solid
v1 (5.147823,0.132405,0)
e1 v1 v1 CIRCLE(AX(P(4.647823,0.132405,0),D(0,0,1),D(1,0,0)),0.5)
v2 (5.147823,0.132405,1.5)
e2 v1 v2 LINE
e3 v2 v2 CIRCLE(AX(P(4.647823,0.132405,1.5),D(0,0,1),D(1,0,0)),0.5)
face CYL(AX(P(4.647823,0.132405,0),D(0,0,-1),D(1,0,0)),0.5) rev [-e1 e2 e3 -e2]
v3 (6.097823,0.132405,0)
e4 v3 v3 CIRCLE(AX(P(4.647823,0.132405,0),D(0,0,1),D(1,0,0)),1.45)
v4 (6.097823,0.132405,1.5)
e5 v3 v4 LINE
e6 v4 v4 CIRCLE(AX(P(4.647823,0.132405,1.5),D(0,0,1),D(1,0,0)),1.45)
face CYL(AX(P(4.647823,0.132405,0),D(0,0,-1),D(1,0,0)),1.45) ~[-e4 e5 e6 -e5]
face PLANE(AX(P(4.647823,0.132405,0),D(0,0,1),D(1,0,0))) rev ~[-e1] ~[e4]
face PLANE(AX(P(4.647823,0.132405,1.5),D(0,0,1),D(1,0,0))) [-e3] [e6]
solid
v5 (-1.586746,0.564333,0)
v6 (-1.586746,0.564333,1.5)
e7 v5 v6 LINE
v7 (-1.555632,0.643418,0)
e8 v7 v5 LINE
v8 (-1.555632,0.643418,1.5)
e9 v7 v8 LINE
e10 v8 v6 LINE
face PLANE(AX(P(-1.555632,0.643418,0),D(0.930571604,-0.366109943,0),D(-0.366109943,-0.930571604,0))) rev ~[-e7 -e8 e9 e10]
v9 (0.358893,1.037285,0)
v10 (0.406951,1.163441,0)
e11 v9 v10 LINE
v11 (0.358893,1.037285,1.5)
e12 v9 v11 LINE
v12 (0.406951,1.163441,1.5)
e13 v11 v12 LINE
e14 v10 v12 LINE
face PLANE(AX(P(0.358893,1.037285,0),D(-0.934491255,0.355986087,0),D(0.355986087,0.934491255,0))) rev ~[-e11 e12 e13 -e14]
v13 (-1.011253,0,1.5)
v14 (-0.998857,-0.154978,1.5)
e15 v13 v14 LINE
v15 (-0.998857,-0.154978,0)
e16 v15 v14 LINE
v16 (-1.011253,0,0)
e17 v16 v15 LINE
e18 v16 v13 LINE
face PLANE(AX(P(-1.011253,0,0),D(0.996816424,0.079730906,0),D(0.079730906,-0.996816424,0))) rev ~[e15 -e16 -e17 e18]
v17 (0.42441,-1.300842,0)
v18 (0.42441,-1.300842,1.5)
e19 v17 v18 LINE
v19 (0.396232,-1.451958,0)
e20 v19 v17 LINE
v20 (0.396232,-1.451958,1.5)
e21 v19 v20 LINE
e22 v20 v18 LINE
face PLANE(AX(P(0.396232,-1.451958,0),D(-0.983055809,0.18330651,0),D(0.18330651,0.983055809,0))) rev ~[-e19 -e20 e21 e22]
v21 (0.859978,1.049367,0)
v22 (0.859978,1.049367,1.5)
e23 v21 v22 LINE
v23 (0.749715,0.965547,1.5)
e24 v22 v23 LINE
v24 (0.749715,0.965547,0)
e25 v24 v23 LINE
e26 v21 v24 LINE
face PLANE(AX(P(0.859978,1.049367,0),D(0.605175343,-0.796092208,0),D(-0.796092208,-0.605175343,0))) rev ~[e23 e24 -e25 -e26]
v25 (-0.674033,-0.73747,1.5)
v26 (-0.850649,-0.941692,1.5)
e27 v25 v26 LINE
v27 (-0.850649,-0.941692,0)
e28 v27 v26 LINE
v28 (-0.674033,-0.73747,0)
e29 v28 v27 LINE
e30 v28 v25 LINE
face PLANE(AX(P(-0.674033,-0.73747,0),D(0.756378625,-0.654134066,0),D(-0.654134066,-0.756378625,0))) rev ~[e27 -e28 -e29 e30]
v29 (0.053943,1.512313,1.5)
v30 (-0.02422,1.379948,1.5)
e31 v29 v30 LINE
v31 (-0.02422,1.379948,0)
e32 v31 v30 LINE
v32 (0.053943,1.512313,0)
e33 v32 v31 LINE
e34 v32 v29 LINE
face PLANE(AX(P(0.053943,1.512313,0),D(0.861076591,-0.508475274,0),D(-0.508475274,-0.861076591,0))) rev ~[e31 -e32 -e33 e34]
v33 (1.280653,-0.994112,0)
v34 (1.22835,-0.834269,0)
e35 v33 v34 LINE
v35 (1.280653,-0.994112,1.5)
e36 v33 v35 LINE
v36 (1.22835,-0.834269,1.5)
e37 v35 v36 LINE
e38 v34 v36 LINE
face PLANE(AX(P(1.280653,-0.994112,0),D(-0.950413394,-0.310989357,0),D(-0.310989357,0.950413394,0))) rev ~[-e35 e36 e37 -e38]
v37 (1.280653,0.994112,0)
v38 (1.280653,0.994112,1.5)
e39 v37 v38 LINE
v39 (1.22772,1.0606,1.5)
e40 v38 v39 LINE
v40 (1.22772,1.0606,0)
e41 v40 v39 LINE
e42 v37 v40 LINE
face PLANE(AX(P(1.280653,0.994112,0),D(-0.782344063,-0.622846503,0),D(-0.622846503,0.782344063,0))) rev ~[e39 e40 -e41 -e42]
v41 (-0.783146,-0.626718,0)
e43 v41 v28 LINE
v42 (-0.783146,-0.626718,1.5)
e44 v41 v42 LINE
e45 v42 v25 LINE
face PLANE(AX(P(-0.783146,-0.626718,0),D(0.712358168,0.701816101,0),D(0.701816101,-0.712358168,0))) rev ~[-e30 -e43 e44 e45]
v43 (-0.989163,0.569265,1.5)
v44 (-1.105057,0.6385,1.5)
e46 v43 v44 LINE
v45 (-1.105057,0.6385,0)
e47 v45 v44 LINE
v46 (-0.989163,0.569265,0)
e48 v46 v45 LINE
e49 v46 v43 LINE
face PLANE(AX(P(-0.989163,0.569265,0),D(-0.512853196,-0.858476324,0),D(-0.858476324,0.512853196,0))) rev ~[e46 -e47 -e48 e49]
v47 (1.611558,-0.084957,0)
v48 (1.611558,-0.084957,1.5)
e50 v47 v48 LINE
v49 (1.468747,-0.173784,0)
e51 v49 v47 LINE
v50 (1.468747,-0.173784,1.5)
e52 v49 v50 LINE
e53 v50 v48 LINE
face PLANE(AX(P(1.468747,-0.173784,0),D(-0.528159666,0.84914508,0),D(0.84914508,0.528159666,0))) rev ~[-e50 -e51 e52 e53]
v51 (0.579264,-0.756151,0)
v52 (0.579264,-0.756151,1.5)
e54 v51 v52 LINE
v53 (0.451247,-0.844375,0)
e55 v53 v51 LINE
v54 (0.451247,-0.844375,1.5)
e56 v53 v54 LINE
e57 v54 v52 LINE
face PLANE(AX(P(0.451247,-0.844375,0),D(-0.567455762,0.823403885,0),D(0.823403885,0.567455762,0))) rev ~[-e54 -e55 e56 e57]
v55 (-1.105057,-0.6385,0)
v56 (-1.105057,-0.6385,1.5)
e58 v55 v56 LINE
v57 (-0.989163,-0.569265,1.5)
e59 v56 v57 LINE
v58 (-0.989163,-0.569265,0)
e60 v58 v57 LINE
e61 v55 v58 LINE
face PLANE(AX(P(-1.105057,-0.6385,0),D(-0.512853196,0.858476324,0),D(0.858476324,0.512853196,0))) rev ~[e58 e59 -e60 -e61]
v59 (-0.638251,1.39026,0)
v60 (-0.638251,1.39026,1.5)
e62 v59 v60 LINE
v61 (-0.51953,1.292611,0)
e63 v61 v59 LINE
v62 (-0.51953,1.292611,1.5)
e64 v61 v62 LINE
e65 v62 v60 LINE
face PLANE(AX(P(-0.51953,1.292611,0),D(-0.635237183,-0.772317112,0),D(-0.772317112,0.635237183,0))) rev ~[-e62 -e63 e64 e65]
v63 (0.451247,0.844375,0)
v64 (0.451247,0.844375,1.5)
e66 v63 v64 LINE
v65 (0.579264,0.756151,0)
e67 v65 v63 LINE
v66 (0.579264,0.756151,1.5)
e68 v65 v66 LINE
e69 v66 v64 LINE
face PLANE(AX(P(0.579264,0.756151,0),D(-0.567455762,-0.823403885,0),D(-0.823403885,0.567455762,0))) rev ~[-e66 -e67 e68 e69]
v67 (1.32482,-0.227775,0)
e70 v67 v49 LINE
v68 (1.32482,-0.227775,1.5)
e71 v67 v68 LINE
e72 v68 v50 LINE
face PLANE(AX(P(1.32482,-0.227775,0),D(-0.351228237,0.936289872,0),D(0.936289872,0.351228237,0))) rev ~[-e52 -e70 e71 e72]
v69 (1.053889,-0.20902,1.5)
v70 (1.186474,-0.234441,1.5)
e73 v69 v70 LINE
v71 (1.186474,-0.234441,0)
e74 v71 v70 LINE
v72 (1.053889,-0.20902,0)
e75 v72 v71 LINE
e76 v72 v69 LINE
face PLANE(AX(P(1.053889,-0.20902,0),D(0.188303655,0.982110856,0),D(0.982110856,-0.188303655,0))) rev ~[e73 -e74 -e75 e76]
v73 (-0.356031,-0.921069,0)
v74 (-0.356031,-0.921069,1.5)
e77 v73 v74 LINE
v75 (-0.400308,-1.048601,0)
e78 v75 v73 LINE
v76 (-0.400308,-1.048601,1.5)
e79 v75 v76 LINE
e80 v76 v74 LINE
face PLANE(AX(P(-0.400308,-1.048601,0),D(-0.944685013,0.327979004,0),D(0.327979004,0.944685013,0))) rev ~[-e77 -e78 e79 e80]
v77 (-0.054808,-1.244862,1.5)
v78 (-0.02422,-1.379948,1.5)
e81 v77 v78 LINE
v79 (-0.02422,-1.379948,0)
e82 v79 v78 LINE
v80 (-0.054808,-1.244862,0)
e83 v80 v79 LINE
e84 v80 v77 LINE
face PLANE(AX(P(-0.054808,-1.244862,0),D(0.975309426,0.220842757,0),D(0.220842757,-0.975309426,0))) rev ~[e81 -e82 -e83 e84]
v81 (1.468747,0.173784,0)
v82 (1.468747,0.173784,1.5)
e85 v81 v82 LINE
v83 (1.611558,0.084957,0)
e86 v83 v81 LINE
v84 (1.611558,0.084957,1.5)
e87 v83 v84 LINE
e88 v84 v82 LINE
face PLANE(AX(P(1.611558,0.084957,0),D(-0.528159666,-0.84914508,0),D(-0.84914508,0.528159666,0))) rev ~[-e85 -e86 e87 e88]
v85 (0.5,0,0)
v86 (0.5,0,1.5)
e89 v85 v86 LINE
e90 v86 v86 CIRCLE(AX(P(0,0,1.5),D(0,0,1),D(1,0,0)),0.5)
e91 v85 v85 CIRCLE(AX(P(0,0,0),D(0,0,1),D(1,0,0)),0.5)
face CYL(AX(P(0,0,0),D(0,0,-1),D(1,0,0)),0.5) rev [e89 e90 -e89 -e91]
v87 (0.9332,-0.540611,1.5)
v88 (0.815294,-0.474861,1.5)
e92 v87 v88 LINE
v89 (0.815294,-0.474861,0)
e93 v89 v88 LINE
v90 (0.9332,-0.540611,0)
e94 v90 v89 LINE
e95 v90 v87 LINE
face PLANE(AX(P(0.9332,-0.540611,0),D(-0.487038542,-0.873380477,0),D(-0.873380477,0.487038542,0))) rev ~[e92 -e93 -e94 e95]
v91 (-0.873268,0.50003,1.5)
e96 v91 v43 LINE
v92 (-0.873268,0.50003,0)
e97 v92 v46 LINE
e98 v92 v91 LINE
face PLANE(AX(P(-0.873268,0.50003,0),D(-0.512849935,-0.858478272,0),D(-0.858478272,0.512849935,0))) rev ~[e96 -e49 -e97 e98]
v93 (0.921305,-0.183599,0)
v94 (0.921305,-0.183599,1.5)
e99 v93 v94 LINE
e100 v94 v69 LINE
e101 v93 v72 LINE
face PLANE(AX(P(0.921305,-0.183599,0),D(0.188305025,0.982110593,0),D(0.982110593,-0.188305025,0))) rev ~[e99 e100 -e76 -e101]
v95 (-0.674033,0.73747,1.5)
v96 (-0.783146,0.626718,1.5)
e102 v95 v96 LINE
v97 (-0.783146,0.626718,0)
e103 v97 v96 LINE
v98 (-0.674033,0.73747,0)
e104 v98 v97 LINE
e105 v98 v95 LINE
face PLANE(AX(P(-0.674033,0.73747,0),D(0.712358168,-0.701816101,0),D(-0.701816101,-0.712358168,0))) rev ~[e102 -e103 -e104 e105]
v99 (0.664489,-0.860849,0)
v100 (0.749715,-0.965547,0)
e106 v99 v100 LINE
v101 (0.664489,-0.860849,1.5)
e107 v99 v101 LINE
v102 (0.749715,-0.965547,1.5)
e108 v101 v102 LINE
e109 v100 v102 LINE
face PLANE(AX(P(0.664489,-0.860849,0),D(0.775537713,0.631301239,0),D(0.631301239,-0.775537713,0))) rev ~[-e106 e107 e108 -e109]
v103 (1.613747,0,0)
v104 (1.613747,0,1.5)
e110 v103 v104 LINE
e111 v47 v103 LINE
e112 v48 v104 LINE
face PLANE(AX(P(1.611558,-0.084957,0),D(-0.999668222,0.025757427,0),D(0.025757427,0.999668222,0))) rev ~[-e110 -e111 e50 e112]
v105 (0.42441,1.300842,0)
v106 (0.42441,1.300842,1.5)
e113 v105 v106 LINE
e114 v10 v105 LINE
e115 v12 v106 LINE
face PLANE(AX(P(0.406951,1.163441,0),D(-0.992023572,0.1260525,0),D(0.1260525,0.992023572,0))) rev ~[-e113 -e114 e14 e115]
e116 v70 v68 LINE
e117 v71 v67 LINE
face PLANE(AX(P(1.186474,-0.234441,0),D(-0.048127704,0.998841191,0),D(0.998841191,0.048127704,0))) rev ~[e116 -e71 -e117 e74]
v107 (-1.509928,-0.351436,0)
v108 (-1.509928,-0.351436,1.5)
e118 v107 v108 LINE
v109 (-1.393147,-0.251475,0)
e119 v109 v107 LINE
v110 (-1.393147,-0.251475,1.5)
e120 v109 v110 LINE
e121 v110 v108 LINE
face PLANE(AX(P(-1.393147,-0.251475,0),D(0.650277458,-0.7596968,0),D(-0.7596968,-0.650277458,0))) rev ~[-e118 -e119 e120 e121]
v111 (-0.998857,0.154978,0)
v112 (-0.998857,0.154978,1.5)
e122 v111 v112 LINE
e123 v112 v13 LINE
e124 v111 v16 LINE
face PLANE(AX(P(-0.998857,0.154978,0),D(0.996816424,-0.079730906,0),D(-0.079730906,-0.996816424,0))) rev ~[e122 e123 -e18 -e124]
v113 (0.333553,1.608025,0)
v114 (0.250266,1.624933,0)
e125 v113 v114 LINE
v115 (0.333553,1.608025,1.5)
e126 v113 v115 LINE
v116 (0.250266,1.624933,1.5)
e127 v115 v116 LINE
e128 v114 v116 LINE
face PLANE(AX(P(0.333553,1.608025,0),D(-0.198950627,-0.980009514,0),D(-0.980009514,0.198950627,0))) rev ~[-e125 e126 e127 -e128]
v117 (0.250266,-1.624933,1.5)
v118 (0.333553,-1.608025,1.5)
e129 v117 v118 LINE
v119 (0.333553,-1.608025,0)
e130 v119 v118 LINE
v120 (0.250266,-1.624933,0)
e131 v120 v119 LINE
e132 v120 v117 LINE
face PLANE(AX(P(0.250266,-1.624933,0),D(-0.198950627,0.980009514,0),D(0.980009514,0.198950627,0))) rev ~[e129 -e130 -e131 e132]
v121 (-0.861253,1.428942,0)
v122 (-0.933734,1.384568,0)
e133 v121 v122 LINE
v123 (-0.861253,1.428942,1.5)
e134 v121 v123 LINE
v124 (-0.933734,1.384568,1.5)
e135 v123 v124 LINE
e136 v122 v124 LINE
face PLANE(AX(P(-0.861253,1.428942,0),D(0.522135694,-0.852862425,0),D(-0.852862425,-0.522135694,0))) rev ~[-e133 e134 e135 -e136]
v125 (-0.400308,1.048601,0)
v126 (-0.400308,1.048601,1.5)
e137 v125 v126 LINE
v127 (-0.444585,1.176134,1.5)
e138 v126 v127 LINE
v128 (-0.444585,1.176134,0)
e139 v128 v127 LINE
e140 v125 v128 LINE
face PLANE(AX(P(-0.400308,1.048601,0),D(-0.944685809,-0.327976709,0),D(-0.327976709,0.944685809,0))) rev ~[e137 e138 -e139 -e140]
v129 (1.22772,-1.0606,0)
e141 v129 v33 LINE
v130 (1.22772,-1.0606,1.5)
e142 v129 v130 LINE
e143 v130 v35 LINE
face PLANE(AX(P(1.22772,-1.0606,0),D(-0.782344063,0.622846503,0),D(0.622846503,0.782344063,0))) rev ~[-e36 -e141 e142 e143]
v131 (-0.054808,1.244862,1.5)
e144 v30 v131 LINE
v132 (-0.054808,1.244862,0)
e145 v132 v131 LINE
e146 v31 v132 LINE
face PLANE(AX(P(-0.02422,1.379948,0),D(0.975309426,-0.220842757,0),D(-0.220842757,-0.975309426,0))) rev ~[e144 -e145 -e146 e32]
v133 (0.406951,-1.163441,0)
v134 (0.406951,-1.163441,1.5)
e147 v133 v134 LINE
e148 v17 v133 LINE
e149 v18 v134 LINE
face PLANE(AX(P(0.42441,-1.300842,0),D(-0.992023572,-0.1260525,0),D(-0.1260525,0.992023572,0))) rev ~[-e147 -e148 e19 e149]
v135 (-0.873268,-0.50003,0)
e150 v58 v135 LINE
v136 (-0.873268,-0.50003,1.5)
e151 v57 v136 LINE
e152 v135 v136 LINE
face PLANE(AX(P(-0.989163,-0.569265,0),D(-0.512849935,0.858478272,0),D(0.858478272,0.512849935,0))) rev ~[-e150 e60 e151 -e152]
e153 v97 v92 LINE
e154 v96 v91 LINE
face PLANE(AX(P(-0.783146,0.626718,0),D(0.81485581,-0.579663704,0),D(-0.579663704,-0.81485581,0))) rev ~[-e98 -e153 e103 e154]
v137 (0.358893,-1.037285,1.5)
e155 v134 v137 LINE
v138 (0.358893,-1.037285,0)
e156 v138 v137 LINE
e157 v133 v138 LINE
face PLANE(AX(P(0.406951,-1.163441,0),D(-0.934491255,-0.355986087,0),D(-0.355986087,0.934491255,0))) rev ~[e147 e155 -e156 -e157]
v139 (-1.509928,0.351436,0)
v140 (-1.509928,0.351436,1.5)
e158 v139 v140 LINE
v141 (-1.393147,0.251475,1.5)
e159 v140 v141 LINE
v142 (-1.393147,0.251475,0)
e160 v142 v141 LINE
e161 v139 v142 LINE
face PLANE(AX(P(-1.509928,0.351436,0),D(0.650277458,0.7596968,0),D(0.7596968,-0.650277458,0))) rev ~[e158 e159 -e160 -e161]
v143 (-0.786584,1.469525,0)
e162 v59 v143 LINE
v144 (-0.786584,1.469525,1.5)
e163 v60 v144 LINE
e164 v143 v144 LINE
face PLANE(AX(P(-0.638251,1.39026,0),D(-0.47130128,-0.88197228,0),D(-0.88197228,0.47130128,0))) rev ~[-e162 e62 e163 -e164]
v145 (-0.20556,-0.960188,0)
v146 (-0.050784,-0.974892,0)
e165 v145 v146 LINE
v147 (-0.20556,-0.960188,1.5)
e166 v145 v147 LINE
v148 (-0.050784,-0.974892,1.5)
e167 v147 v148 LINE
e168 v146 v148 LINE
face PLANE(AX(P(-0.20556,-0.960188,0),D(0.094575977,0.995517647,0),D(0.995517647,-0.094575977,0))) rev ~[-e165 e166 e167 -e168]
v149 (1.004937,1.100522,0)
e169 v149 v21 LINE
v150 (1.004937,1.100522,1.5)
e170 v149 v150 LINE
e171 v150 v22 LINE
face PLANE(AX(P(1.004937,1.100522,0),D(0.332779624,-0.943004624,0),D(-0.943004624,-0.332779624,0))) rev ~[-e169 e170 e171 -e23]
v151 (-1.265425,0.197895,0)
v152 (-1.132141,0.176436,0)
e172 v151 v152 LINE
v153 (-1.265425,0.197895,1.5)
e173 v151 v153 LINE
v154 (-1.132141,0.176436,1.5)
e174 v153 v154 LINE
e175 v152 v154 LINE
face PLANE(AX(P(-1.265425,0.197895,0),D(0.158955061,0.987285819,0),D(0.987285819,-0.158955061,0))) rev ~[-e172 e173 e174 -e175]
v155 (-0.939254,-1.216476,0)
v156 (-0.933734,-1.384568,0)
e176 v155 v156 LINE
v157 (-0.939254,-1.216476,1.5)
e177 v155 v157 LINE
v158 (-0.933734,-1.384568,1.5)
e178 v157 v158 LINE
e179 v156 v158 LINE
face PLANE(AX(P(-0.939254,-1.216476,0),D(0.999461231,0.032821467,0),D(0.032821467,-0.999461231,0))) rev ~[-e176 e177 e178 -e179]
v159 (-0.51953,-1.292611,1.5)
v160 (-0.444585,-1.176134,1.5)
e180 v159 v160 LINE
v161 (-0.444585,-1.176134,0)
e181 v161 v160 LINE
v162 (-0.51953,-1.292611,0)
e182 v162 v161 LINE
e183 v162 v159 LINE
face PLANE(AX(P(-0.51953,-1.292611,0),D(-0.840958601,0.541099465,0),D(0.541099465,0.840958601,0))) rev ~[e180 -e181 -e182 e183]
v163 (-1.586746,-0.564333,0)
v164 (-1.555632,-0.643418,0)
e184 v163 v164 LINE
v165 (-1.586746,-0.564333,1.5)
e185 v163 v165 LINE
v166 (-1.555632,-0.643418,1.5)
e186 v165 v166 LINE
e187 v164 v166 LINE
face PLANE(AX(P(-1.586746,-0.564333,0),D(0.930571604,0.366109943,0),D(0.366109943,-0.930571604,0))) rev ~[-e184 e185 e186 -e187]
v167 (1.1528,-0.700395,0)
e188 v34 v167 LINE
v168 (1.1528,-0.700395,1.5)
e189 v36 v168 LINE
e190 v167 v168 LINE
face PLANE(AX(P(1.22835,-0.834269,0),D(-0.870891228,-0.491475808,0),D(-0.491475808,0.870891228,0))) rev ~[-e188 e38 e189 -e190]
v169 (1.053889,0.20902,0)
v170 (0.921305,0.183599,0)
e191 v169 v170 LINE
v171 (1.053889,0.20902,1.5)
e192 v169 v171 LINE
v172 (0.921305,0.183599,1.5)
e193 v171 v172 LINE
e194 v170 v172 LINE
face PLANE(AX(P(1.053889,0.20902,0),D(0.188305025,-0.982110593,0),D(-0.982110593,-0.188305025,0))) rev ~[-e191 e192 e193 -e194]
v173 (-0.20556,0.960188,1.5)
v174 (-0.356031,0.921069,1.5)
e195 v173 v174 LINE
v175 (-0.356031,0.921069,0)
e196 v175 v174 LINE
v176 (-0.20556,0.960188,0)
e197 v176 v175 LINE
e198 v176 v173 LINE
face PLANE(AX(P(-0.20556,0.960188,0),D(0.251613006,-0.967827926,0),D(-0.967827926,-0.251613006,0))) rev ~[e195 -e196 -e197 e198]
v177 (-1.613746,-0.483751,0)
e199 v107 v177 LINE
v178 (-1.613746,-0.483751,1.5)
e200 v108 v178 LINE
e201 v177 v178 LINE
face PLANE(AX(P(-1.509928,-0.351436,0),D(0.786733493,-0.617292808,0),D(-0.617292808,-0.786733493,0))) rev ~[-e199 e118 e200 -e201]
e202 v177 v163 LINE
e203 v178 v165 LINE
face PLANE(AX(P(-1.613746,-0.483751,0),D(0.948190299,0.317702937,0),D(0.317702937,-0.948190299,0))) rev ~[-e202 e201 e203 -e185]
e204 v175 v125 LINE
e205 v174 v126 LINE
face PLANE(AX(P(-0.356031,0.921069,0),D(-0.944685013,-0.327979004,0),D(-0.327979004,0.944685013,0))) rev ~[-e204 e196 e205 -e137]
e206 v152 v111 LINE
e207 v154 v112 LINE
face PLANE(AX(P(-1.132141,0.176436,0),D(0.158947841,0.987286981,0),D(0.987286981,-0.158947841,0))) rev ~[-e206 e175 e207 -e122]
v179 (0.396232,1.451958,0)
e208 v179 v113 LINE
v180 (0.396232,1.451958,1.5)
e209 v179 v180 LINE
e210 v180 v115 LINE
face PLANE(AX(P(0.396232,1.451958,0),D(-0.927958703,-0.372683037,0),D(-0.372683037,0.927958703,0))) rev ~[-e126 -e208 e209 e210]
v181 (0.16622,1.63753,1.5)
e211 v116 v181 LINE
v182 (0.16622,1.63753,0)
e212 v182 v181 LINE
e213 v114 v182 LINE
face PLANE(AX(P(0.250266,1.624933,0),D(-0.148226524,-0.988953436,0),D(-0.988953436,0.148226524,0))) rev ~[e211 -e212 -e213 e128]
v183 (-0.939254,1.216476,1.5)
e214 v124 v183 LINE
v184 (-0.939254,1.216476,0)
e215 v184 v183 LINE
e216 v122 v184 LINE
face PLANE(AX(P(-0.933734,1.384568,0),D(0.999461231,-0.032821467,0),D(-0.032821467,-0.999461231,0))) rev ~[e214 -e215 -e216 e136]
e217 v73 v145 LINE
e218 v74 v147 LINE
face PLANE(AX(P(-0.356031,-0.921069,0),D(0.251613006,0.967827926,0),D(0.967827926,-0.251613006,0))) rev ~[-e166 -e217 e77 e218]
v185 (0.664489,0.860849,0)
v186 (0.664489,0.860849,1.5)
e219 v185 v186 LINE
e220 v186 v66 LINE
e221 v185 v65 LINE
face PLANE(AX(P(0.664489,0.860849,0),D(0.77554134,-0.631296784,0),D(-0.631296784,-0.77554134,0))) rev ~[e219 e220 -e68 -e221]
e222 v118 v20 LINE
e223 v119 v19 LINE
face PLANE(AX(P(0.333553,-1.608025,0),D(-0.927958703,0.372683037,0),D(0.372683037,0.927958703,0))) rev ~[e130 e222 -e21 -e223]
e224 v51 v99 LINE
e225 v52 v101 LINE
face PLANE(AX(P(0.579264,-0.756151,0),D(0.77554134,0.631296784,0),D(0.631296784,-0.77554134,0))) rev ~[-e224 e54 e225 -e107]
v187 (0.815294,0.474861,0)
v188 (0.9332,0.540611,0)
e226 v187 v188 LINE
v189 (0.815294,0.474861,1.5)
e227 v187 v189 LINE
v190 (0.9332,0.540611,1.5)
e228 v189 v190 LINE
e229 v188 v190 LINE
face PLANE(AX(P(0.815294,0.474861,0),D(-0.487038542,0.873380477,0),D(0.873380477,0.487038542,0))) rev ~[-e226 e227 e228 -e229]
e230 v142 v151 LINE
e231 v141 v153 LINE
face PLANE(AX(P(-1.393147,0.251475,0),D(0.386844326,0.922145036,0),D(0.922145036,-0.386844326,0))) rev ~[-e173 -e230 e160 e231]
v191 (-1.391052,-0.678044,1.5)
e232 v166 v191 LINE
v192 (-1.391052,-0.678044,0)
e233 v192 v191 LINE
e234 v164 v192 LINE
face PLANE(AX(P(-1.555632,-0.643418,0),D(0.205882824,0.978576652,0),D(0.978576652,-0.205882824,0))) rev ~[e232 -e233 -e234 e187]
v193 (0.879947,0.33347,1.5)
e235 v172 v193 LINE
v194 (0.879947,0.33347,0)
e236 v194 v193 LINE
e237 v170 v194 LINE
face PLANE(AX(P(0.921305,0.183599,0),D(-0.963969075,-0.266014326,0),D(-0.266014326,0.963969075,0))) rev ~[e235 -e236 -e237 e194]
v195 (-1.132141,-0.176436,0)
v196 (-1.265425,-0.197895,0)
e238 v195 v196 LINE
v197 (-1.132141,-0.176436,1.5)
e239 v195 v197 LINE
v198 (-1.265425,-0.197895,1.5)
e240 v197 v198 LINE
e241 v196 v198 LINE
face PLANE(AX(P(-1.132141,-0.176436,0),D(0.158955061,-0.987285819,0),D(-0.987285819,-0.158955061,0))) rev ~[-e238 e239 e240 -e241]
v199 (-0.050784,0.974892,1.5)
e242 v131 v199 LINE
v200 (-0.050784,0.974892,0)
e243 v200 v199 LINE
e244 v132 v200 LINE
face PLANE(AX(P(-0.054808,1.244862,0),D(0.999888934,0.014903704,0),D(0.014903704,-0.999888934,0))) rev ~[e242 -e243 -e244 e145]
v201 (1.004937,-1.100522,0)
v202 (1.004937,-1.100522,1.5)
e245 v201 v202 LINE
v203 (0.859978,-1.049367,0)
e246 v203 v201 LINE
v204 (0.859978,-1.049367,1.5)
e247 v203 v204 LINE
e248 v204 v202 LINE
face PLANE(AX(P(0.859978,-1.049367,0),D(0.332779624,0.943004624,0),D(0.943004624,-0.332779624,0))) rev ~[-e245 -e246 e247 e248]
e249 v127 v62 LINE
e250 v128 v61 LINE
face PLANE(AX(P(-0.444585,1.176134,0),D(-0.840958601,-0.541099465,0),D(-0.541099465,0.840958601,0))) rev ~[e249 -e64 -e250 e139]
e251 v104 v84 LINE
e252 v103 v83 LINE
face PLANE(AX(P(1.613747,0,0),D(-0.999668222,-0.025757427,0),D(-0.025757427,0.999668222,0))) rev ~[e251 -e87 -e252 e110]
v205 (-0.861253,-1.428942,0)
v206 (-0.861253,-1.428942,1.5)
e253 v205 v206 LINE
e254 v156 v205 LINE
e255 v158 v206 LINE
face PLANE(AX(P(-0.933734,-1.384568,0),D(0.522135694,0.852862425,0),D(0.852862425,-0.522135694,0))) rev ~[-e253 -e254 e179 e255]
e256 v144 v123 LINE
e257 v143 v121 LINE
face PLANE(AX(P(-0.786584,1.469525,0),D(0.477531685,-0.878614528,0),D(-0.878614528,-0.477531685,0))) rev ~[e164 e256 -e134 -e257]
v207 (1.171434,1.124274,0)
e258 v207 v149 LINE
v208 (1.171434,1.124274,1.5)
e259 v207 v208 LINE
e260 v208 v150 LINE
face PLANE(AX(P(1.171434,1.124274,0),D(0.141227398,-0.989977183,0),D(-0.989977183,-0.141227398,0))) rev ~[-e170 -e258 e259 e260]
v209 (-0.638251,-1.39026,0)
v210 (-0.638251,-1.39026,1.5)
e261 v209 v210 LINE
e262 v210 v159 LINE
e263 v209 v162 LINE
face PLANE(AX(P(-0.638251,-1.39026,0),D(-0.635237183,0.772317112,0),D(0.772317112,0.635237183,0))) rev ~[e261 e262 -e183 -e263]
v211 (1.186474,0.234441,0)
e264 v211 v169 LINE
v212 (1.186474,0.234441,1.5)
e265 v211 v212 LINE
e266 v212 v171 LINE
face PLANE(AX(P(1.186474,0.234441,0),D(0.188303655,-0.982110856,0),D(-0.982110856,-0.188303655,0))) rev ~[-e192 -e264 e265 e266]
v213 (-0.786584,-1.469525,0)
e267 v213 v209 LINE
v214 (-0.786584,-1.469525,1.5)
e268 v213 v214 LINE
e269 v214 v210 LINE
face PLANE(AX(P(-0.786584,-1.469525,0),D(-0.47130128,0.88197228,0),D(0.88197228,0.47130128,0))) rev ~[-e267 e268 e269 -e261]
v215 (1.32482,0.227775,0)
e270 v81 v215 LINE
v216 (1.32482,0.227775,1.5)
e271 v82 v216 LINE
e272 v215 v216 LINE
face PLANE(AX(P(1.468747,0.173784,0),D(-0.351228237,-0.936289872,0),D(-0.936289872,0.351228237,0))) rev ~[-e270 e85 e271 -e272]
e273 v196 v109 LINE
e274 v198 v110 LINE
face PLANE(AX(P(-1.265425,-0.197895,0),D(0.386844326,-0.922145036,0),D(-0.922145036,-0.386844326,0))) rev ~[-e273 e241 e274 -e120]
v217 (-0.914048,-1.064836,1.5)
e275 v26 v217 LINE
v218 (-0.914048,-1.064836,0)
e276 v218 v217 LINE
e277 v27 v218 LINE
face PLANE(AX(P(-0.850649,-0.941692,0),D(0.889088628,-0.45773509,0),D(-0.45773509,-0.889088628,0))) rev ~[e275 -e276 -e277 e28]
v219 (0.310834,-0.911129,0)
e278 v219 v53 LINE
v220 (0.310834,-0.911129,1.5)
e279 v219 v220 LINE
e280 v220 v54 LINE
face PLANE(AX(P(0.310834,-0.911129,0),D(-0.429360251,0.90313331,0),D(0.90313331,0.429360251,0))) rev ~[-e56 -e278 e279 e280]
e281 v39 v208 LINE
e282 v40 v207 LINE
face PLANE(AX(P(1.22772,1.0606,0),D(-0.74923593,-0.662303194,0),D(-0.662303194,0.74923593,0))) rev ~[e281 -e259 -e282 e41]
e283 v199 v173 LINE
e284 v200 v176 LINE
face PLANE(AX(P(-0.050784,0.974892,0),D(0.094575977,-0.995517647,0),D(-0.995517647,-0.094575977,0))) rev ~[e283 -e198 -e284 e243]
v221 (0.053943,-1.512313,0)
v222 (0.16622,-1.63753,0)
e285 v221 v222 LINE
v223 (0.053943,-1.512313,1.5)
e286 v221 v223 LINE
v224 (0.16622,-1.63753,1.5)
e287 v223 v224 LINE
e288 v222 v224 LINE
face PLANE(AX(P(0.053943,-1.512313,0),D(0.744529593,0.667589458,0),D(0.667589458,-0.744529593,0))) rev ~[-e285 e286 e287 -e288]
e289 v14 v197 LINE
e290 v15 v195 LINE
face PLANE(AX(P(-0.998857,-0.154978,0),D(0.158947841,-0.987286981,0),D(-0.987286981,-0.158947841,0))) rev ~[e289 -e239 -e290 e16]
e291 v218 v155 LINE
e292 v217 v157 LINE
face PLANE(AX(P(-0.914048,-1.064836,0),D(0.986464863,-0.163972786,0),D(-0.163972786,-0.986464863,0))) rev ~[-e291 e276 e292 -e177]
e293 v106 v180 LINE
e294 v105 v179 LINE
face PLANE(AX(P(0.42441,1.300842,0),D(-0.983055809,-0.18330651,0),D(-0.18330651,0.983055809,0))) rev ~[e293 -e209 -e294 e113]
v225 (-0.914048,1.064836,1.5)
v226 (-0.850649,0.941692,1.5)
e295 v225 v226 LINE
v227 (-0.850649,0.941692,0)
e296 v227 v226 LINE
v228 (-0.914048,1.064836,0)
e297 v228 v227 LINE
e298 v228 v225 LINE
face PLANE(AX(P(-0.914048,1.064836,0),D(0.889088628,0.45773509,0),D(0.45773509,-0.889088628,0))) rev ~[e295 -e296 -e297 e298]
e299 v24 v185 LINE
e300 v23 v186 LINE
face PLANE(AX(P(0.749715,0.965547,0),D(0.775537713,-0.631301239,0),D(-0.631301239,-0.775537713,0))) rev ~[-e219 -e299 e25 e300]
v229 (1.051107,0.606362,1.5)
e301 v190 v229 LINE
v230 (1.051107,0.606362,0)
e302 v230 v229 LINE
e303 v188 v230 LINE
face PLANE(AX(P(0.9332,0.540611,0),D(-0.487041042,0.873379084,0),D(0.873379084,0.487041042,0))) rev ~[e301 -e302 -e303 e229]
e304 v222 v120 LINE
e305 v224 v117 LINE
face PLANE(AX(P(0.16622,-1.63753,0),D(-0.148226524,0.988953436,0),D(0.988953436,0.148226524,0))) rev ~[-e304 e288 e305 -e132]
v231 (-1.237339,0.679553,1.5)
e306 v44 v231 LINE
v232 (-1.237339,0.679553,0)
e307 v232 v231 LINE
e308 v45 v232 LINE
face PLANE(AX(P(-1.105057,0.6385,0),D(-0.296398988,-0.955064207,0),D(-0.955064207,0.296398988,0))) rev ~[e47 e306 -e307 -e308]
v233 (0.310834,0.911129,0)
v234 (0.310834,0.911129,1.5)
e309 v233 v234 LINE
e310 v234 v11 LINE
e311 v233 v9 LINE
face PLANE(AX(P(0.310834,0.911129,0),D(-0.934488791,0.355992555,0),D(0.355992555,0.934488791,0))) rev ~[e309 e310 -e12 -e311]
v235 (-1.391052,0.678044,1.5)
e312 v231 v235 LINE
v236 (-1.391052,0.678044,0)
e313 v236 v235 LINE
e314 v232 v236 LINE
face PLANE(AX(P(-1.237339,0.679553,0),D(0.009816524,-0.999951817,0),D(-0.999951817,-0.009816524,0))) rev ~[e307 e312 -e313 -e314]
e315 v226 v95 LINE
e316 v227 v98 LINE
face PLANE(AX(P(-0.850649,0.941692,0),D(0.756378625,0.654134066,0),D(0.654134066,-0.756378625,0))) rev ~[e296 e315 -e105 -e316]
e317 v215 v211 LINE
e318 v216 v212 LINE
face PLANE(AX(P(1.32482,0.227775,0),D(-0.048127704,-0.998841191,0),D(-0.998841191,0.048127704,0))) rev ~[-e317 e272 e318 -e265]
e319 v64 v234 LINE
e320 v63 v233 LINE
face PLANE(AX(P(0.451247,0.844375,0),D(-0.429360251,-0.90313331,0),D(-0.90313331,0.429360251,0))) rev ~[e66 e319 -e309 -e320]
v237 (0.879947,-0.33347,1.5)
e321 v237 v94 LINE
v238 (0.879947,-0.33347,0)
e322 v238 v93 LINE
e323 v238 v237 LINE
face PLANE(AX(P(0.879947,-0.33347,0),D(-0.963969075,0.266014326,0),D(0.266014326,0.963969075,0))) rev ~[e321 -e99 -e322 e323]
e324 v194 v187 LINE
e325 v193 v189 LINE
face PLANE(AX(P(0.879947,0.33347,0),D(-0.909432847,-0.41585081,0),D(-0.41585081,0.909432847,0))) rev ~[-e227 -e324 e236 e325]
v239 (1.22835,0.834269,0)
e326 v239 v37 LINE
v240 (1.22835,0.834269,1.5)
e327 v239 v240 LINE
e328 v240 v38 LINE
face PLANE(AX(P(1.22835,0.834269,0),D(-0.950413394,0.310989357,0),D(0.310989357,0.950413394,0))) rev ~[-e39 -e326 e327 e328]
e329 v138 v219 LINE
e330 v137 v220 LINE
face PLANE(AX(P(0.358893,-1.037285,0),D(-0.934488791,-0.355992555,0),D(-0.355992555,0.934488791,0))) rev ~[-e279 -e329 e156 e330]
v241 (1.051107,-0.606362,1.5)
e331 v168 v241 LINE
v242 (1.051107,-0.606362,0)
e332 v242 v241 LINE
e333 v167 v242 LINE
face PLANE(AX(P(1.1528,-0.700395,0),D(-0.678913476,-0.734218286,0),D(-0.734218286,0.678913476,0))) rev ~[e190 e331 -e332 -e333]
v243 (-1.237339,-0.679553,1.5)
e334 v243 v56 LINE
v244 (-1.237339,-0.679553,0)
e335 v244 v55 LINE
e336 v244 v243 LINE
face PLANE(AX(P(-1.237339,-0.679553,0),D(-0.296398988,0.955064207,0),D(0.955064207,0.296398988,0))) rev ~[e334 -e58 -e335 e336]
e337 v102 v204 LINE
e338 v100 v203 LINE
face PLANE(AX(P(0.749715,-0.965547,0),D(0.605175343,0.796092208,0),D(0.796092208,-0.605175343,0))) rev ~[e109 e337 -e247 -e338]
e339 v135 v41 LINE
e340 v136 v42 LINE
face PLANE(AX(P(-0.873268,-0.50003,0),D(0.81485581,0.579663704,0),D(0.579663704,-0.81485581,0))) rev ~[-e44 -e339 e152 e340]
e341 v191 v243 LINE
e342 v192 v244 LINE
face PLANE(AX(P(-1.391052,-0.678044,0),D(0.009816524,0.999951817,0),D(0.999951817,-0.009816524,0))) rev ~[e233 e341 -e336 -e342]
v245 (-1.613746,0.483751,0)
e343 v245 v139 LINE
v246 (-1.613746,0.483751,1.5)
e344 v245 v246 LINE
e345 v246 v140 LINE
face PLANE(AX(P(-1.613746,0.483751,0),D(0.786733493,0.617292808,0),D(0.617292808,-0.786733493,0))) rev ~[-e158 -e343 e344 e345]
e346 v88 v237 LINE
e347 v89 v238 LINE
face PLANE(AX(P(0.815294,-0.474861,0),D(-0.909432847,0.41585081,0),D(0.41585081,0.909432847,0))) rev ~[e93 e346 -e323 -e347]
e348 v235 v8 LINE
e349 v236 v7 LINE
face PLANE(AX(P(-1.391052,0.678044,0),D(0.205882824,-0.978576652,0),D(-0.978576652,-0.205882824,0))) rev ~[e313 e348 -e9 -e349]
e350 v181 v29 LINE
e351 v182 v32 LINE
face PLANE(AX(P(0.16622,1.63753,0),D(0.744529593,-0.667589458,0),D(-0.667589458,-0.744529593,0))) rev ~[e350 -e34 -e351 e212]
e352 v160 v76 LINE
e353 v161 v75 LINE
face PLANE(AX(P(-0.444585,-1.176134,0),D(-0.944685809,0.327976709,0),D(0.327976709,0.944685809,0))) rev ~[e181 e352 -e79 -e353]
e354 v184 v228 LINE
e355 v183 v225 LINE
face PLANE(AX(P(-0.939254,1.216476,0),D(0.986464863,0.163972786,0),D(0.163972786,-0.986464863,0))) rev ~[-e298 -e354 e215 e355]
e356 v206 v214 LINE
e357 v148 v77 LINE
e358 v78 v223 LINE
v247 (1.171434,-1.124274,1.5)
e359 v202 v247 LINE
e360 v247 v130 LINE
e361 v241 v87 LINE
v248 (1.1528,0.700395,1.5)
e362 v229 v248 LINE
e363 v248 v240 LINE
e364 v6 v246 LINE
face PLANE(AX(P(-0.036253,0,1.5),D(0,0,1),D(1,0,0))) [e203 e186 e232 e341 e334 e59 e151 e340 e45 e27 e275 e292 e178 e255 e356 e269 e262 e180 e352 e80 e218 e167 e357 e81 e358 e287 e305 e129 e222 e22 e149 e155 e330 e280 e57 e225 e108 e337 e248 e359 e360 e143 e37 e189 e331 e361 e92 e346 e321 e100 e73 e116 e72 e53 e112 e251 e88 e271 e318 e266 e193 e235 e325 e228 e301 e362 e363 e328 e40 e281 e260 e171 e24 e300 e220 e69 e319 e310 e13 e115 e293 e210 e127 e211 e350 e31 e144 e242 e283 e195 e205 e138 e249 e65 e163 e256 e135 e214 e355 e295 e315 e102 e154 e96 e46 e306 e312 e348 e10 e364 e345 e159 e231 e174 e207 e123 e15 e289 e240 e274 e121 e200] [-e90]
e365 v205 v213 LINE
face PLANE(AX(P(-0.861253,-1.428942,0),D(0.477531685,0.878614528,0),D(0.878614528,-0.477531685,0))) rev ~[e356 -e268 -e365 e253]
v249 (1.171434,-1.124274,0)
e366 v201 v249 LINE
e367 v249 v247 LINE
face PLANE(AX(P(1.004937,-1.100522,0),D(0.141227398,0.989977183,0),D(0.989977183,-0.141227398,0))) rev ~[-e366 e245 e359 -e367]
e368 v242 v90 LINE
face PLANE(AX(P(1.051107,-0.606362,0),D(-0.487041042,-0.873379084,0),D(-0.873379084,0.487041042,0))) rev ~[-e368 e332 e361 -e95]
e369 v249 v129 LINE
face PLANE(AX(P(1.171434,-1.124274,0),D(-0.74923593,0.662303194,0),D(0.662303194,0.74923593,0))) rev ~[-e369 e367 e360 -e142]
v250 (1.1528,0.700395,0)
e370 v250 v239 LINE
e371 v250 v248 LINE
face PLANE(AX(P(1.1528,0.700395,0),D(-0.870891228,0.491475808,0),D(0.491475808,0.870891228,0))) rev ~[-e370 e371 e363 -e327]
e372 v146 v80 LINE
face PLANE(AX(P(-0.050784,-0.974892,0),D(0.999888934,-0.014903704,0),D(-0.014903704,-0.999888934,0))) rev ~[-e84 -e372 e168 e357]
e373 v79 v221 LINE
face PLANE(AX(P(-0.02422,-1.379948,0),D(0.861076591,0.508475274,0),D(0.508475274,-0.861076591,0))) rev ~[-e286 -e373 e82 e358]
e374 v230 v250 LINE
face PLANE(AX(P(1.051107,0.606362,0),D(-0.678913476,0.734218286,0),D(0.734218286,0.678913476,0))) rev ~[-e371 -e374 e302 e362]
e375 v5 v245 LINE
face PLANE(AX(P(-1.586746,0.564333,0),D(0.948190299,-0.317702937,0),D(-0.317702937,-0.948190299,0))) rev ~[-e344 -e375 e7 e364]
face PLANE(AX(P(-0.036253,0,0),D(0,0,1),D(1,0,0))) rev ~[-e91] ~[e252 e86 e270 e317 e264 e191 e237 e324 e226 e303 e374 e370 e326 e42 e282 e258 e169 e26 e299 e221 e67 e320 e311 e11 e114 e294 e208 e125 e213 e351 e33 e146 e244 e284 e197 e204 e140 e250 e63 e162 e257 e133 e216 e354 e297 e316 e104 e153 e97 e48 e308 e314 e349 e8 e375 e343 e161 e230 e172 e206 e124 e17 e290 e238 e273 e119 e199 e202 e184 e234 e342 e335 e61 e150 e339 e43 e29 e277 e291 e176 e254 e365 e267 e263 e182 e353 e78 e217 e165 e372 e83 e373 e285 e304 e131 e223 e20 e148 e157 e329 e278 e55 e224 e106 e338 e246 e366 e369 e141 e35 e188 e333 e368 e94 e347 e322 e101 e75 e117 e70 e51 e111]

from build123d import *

# Parameters (mm, degrees)
F0_R     = 0.5
F1_DEPTH = 1.5
F2_R     = 1.45
F2_R_2   = 0.5
F3_DEPTH = 1.5


with BuildPart() as f1:
    # F0 (on Top) → F1 (new body)
    with BuildSketch(Plane.XY):
        Polygon((0.815294, -0.474861), (0.879947, -0.33347), (0.921305, -0.183599), (1.053889, -0.20902), (1.186474, -0.234441), (1.32482, -0.227775), (1.468747, -0.173784), (1.611558, -0.084957), (1.613747, 0), (1.611558, 0.084957), (1.468747, 0.173784), (1.32482, 0.227775), (1.186474, 0.234441), (1.053889, 0.20902), (0.921305, 0.183599), (0.879947, 0.33347), (0.815294, 0.474861), (0.9332, 0.540611), (1.051107, 0.606362), (1.1528, 0.700395), (1.22835, 0.834269), (1.280653, 0.994112), (1.22772, 1.0606), (1.171434, 1.124274), (1.004937, 1.100522), (0.859978, 1.049367), (0.749715, 0.965547), (0.664489, 0.860849), (0.579264, 0.756151), (0.451247, 0.844375), (0.310834, 0.911129), (0.358893, 1.037285), (0.406951, 1.163441), (0.42441, 1.300842), (0.396232, 1.451958), (0.333553, 1.608025), (0.250266, 1.624933), (0.16622, 1.63753), (0.053943, 1.512313), (-0.02422, 1.379948), (-0.054808, 1.244862), (-0.052796, 1.109877), (-0.050784, 0.974892), (-0.20556, 0.960188), (-0.356031, 0.921069), (-0.400308, 1.048601), (-0.444585, 1.176134), (-0.51953, 1.292611), (-0.638251, 1.39026), (-0.786584, 1.469525), (-0.861253, 1.428942), (-0.933734, 1.384568), (-0.939254, 1.216476), (-0.914048, 1.064836), (-0.850649, 0.941692), (-0.762341, 0.839581), (-0.674033, 0.73747), (-0.783146, 0.626718), (-0.873268, 0.50003), (-0.989163, 0.569265), (-1.105057, 0.6385), (-1.237339, 0.679553), (-1.391052, 0.678044), (-1.555632, 0.643418), (-1.586746, 0.564333), (-1.613746, 0.483751), (-1.509928, 0.351436), (-1.393147, 0.251475), (-1.265425, 0.197895), (-1.132141, 0.176436), (-0.998857, 0.154978), (-1.011253, 0), (-0.998857, -0.154978), (-1.132141, -0.176436), (-1.265425, -0.197895), (-1.393147, -0.251475), (-1.509928, -0.351436), (-1.613746, -0.483751), (-1.586746, -0.564333), (-1.555632, -0.643418), (-1.391052, -0.678044), (-1.237339, -0.679553), (-1.105057, -0.6385), (-0.989163, -0.569265), (-0.873268, -0.50003), (-0.783146, -0.626718), (-0.674033, -0.73747), (-0.762341, -0.839581), (-0.850649, -0.941692), (-0.914048, -1.064836), (-0.939254, -1.216476), (-0.933734, -1.384568), (-0.861253, -1.428942), (-0.786584, -1.469525), (-0.638251, -1.39026), (-0.51953, -1.292611), (-0.444585, -1.176134), (-0.400308, -1.048601), (-0.356031, -0.921069), (-0.20556, -0.960188), (-0.050784, -0.974892), (-0.052796, -1.109877), (-0.054808, -1.244862), (-0.02422, -1.379948), (0.053943, -1.512313), (0.16622, -1.63753), (0.250266, -1.624933), (0.333553, -1.608025), (0.396232, -1.451958), (0.42441, -1.300842), (0.406951, -1.163441), (0.358893, -1.037285), (0.310834, -0.911129), (0.451247, -0.844375), (0.579264, -0.756151), (0.664489, -0.860849), (0.749715, -0.965547), (0.859978, -1.049367), (1.004937, -1.100522), (1.171434, -1.124274), (1.22772, -1.0606), (1.280653, -0.994112), (1.22835, -0.834269), (1.1528, -0.700395), (1.051107, -0.606362), (0.9332, -0.540611), align=None)
        Circle(F0_R, mode=Mode.SUBTRACT)
    extrude(amount=F1_DEPTH)


with BuildPart() as f3:
    # F2 (on Top) → F3 (new body)
    with BuildSketch(Plane.XY):
        with Locations((4.647823, 0.132405)):
            Circle(F2_R)
        with Locations((4.647823, 0.132405)):
            Circle(F2_R_2, mode=Mode.SUBTRACT)
    extrude(amount=F3_DEPTH)


solid = Compound([f1.part, f3.part])
